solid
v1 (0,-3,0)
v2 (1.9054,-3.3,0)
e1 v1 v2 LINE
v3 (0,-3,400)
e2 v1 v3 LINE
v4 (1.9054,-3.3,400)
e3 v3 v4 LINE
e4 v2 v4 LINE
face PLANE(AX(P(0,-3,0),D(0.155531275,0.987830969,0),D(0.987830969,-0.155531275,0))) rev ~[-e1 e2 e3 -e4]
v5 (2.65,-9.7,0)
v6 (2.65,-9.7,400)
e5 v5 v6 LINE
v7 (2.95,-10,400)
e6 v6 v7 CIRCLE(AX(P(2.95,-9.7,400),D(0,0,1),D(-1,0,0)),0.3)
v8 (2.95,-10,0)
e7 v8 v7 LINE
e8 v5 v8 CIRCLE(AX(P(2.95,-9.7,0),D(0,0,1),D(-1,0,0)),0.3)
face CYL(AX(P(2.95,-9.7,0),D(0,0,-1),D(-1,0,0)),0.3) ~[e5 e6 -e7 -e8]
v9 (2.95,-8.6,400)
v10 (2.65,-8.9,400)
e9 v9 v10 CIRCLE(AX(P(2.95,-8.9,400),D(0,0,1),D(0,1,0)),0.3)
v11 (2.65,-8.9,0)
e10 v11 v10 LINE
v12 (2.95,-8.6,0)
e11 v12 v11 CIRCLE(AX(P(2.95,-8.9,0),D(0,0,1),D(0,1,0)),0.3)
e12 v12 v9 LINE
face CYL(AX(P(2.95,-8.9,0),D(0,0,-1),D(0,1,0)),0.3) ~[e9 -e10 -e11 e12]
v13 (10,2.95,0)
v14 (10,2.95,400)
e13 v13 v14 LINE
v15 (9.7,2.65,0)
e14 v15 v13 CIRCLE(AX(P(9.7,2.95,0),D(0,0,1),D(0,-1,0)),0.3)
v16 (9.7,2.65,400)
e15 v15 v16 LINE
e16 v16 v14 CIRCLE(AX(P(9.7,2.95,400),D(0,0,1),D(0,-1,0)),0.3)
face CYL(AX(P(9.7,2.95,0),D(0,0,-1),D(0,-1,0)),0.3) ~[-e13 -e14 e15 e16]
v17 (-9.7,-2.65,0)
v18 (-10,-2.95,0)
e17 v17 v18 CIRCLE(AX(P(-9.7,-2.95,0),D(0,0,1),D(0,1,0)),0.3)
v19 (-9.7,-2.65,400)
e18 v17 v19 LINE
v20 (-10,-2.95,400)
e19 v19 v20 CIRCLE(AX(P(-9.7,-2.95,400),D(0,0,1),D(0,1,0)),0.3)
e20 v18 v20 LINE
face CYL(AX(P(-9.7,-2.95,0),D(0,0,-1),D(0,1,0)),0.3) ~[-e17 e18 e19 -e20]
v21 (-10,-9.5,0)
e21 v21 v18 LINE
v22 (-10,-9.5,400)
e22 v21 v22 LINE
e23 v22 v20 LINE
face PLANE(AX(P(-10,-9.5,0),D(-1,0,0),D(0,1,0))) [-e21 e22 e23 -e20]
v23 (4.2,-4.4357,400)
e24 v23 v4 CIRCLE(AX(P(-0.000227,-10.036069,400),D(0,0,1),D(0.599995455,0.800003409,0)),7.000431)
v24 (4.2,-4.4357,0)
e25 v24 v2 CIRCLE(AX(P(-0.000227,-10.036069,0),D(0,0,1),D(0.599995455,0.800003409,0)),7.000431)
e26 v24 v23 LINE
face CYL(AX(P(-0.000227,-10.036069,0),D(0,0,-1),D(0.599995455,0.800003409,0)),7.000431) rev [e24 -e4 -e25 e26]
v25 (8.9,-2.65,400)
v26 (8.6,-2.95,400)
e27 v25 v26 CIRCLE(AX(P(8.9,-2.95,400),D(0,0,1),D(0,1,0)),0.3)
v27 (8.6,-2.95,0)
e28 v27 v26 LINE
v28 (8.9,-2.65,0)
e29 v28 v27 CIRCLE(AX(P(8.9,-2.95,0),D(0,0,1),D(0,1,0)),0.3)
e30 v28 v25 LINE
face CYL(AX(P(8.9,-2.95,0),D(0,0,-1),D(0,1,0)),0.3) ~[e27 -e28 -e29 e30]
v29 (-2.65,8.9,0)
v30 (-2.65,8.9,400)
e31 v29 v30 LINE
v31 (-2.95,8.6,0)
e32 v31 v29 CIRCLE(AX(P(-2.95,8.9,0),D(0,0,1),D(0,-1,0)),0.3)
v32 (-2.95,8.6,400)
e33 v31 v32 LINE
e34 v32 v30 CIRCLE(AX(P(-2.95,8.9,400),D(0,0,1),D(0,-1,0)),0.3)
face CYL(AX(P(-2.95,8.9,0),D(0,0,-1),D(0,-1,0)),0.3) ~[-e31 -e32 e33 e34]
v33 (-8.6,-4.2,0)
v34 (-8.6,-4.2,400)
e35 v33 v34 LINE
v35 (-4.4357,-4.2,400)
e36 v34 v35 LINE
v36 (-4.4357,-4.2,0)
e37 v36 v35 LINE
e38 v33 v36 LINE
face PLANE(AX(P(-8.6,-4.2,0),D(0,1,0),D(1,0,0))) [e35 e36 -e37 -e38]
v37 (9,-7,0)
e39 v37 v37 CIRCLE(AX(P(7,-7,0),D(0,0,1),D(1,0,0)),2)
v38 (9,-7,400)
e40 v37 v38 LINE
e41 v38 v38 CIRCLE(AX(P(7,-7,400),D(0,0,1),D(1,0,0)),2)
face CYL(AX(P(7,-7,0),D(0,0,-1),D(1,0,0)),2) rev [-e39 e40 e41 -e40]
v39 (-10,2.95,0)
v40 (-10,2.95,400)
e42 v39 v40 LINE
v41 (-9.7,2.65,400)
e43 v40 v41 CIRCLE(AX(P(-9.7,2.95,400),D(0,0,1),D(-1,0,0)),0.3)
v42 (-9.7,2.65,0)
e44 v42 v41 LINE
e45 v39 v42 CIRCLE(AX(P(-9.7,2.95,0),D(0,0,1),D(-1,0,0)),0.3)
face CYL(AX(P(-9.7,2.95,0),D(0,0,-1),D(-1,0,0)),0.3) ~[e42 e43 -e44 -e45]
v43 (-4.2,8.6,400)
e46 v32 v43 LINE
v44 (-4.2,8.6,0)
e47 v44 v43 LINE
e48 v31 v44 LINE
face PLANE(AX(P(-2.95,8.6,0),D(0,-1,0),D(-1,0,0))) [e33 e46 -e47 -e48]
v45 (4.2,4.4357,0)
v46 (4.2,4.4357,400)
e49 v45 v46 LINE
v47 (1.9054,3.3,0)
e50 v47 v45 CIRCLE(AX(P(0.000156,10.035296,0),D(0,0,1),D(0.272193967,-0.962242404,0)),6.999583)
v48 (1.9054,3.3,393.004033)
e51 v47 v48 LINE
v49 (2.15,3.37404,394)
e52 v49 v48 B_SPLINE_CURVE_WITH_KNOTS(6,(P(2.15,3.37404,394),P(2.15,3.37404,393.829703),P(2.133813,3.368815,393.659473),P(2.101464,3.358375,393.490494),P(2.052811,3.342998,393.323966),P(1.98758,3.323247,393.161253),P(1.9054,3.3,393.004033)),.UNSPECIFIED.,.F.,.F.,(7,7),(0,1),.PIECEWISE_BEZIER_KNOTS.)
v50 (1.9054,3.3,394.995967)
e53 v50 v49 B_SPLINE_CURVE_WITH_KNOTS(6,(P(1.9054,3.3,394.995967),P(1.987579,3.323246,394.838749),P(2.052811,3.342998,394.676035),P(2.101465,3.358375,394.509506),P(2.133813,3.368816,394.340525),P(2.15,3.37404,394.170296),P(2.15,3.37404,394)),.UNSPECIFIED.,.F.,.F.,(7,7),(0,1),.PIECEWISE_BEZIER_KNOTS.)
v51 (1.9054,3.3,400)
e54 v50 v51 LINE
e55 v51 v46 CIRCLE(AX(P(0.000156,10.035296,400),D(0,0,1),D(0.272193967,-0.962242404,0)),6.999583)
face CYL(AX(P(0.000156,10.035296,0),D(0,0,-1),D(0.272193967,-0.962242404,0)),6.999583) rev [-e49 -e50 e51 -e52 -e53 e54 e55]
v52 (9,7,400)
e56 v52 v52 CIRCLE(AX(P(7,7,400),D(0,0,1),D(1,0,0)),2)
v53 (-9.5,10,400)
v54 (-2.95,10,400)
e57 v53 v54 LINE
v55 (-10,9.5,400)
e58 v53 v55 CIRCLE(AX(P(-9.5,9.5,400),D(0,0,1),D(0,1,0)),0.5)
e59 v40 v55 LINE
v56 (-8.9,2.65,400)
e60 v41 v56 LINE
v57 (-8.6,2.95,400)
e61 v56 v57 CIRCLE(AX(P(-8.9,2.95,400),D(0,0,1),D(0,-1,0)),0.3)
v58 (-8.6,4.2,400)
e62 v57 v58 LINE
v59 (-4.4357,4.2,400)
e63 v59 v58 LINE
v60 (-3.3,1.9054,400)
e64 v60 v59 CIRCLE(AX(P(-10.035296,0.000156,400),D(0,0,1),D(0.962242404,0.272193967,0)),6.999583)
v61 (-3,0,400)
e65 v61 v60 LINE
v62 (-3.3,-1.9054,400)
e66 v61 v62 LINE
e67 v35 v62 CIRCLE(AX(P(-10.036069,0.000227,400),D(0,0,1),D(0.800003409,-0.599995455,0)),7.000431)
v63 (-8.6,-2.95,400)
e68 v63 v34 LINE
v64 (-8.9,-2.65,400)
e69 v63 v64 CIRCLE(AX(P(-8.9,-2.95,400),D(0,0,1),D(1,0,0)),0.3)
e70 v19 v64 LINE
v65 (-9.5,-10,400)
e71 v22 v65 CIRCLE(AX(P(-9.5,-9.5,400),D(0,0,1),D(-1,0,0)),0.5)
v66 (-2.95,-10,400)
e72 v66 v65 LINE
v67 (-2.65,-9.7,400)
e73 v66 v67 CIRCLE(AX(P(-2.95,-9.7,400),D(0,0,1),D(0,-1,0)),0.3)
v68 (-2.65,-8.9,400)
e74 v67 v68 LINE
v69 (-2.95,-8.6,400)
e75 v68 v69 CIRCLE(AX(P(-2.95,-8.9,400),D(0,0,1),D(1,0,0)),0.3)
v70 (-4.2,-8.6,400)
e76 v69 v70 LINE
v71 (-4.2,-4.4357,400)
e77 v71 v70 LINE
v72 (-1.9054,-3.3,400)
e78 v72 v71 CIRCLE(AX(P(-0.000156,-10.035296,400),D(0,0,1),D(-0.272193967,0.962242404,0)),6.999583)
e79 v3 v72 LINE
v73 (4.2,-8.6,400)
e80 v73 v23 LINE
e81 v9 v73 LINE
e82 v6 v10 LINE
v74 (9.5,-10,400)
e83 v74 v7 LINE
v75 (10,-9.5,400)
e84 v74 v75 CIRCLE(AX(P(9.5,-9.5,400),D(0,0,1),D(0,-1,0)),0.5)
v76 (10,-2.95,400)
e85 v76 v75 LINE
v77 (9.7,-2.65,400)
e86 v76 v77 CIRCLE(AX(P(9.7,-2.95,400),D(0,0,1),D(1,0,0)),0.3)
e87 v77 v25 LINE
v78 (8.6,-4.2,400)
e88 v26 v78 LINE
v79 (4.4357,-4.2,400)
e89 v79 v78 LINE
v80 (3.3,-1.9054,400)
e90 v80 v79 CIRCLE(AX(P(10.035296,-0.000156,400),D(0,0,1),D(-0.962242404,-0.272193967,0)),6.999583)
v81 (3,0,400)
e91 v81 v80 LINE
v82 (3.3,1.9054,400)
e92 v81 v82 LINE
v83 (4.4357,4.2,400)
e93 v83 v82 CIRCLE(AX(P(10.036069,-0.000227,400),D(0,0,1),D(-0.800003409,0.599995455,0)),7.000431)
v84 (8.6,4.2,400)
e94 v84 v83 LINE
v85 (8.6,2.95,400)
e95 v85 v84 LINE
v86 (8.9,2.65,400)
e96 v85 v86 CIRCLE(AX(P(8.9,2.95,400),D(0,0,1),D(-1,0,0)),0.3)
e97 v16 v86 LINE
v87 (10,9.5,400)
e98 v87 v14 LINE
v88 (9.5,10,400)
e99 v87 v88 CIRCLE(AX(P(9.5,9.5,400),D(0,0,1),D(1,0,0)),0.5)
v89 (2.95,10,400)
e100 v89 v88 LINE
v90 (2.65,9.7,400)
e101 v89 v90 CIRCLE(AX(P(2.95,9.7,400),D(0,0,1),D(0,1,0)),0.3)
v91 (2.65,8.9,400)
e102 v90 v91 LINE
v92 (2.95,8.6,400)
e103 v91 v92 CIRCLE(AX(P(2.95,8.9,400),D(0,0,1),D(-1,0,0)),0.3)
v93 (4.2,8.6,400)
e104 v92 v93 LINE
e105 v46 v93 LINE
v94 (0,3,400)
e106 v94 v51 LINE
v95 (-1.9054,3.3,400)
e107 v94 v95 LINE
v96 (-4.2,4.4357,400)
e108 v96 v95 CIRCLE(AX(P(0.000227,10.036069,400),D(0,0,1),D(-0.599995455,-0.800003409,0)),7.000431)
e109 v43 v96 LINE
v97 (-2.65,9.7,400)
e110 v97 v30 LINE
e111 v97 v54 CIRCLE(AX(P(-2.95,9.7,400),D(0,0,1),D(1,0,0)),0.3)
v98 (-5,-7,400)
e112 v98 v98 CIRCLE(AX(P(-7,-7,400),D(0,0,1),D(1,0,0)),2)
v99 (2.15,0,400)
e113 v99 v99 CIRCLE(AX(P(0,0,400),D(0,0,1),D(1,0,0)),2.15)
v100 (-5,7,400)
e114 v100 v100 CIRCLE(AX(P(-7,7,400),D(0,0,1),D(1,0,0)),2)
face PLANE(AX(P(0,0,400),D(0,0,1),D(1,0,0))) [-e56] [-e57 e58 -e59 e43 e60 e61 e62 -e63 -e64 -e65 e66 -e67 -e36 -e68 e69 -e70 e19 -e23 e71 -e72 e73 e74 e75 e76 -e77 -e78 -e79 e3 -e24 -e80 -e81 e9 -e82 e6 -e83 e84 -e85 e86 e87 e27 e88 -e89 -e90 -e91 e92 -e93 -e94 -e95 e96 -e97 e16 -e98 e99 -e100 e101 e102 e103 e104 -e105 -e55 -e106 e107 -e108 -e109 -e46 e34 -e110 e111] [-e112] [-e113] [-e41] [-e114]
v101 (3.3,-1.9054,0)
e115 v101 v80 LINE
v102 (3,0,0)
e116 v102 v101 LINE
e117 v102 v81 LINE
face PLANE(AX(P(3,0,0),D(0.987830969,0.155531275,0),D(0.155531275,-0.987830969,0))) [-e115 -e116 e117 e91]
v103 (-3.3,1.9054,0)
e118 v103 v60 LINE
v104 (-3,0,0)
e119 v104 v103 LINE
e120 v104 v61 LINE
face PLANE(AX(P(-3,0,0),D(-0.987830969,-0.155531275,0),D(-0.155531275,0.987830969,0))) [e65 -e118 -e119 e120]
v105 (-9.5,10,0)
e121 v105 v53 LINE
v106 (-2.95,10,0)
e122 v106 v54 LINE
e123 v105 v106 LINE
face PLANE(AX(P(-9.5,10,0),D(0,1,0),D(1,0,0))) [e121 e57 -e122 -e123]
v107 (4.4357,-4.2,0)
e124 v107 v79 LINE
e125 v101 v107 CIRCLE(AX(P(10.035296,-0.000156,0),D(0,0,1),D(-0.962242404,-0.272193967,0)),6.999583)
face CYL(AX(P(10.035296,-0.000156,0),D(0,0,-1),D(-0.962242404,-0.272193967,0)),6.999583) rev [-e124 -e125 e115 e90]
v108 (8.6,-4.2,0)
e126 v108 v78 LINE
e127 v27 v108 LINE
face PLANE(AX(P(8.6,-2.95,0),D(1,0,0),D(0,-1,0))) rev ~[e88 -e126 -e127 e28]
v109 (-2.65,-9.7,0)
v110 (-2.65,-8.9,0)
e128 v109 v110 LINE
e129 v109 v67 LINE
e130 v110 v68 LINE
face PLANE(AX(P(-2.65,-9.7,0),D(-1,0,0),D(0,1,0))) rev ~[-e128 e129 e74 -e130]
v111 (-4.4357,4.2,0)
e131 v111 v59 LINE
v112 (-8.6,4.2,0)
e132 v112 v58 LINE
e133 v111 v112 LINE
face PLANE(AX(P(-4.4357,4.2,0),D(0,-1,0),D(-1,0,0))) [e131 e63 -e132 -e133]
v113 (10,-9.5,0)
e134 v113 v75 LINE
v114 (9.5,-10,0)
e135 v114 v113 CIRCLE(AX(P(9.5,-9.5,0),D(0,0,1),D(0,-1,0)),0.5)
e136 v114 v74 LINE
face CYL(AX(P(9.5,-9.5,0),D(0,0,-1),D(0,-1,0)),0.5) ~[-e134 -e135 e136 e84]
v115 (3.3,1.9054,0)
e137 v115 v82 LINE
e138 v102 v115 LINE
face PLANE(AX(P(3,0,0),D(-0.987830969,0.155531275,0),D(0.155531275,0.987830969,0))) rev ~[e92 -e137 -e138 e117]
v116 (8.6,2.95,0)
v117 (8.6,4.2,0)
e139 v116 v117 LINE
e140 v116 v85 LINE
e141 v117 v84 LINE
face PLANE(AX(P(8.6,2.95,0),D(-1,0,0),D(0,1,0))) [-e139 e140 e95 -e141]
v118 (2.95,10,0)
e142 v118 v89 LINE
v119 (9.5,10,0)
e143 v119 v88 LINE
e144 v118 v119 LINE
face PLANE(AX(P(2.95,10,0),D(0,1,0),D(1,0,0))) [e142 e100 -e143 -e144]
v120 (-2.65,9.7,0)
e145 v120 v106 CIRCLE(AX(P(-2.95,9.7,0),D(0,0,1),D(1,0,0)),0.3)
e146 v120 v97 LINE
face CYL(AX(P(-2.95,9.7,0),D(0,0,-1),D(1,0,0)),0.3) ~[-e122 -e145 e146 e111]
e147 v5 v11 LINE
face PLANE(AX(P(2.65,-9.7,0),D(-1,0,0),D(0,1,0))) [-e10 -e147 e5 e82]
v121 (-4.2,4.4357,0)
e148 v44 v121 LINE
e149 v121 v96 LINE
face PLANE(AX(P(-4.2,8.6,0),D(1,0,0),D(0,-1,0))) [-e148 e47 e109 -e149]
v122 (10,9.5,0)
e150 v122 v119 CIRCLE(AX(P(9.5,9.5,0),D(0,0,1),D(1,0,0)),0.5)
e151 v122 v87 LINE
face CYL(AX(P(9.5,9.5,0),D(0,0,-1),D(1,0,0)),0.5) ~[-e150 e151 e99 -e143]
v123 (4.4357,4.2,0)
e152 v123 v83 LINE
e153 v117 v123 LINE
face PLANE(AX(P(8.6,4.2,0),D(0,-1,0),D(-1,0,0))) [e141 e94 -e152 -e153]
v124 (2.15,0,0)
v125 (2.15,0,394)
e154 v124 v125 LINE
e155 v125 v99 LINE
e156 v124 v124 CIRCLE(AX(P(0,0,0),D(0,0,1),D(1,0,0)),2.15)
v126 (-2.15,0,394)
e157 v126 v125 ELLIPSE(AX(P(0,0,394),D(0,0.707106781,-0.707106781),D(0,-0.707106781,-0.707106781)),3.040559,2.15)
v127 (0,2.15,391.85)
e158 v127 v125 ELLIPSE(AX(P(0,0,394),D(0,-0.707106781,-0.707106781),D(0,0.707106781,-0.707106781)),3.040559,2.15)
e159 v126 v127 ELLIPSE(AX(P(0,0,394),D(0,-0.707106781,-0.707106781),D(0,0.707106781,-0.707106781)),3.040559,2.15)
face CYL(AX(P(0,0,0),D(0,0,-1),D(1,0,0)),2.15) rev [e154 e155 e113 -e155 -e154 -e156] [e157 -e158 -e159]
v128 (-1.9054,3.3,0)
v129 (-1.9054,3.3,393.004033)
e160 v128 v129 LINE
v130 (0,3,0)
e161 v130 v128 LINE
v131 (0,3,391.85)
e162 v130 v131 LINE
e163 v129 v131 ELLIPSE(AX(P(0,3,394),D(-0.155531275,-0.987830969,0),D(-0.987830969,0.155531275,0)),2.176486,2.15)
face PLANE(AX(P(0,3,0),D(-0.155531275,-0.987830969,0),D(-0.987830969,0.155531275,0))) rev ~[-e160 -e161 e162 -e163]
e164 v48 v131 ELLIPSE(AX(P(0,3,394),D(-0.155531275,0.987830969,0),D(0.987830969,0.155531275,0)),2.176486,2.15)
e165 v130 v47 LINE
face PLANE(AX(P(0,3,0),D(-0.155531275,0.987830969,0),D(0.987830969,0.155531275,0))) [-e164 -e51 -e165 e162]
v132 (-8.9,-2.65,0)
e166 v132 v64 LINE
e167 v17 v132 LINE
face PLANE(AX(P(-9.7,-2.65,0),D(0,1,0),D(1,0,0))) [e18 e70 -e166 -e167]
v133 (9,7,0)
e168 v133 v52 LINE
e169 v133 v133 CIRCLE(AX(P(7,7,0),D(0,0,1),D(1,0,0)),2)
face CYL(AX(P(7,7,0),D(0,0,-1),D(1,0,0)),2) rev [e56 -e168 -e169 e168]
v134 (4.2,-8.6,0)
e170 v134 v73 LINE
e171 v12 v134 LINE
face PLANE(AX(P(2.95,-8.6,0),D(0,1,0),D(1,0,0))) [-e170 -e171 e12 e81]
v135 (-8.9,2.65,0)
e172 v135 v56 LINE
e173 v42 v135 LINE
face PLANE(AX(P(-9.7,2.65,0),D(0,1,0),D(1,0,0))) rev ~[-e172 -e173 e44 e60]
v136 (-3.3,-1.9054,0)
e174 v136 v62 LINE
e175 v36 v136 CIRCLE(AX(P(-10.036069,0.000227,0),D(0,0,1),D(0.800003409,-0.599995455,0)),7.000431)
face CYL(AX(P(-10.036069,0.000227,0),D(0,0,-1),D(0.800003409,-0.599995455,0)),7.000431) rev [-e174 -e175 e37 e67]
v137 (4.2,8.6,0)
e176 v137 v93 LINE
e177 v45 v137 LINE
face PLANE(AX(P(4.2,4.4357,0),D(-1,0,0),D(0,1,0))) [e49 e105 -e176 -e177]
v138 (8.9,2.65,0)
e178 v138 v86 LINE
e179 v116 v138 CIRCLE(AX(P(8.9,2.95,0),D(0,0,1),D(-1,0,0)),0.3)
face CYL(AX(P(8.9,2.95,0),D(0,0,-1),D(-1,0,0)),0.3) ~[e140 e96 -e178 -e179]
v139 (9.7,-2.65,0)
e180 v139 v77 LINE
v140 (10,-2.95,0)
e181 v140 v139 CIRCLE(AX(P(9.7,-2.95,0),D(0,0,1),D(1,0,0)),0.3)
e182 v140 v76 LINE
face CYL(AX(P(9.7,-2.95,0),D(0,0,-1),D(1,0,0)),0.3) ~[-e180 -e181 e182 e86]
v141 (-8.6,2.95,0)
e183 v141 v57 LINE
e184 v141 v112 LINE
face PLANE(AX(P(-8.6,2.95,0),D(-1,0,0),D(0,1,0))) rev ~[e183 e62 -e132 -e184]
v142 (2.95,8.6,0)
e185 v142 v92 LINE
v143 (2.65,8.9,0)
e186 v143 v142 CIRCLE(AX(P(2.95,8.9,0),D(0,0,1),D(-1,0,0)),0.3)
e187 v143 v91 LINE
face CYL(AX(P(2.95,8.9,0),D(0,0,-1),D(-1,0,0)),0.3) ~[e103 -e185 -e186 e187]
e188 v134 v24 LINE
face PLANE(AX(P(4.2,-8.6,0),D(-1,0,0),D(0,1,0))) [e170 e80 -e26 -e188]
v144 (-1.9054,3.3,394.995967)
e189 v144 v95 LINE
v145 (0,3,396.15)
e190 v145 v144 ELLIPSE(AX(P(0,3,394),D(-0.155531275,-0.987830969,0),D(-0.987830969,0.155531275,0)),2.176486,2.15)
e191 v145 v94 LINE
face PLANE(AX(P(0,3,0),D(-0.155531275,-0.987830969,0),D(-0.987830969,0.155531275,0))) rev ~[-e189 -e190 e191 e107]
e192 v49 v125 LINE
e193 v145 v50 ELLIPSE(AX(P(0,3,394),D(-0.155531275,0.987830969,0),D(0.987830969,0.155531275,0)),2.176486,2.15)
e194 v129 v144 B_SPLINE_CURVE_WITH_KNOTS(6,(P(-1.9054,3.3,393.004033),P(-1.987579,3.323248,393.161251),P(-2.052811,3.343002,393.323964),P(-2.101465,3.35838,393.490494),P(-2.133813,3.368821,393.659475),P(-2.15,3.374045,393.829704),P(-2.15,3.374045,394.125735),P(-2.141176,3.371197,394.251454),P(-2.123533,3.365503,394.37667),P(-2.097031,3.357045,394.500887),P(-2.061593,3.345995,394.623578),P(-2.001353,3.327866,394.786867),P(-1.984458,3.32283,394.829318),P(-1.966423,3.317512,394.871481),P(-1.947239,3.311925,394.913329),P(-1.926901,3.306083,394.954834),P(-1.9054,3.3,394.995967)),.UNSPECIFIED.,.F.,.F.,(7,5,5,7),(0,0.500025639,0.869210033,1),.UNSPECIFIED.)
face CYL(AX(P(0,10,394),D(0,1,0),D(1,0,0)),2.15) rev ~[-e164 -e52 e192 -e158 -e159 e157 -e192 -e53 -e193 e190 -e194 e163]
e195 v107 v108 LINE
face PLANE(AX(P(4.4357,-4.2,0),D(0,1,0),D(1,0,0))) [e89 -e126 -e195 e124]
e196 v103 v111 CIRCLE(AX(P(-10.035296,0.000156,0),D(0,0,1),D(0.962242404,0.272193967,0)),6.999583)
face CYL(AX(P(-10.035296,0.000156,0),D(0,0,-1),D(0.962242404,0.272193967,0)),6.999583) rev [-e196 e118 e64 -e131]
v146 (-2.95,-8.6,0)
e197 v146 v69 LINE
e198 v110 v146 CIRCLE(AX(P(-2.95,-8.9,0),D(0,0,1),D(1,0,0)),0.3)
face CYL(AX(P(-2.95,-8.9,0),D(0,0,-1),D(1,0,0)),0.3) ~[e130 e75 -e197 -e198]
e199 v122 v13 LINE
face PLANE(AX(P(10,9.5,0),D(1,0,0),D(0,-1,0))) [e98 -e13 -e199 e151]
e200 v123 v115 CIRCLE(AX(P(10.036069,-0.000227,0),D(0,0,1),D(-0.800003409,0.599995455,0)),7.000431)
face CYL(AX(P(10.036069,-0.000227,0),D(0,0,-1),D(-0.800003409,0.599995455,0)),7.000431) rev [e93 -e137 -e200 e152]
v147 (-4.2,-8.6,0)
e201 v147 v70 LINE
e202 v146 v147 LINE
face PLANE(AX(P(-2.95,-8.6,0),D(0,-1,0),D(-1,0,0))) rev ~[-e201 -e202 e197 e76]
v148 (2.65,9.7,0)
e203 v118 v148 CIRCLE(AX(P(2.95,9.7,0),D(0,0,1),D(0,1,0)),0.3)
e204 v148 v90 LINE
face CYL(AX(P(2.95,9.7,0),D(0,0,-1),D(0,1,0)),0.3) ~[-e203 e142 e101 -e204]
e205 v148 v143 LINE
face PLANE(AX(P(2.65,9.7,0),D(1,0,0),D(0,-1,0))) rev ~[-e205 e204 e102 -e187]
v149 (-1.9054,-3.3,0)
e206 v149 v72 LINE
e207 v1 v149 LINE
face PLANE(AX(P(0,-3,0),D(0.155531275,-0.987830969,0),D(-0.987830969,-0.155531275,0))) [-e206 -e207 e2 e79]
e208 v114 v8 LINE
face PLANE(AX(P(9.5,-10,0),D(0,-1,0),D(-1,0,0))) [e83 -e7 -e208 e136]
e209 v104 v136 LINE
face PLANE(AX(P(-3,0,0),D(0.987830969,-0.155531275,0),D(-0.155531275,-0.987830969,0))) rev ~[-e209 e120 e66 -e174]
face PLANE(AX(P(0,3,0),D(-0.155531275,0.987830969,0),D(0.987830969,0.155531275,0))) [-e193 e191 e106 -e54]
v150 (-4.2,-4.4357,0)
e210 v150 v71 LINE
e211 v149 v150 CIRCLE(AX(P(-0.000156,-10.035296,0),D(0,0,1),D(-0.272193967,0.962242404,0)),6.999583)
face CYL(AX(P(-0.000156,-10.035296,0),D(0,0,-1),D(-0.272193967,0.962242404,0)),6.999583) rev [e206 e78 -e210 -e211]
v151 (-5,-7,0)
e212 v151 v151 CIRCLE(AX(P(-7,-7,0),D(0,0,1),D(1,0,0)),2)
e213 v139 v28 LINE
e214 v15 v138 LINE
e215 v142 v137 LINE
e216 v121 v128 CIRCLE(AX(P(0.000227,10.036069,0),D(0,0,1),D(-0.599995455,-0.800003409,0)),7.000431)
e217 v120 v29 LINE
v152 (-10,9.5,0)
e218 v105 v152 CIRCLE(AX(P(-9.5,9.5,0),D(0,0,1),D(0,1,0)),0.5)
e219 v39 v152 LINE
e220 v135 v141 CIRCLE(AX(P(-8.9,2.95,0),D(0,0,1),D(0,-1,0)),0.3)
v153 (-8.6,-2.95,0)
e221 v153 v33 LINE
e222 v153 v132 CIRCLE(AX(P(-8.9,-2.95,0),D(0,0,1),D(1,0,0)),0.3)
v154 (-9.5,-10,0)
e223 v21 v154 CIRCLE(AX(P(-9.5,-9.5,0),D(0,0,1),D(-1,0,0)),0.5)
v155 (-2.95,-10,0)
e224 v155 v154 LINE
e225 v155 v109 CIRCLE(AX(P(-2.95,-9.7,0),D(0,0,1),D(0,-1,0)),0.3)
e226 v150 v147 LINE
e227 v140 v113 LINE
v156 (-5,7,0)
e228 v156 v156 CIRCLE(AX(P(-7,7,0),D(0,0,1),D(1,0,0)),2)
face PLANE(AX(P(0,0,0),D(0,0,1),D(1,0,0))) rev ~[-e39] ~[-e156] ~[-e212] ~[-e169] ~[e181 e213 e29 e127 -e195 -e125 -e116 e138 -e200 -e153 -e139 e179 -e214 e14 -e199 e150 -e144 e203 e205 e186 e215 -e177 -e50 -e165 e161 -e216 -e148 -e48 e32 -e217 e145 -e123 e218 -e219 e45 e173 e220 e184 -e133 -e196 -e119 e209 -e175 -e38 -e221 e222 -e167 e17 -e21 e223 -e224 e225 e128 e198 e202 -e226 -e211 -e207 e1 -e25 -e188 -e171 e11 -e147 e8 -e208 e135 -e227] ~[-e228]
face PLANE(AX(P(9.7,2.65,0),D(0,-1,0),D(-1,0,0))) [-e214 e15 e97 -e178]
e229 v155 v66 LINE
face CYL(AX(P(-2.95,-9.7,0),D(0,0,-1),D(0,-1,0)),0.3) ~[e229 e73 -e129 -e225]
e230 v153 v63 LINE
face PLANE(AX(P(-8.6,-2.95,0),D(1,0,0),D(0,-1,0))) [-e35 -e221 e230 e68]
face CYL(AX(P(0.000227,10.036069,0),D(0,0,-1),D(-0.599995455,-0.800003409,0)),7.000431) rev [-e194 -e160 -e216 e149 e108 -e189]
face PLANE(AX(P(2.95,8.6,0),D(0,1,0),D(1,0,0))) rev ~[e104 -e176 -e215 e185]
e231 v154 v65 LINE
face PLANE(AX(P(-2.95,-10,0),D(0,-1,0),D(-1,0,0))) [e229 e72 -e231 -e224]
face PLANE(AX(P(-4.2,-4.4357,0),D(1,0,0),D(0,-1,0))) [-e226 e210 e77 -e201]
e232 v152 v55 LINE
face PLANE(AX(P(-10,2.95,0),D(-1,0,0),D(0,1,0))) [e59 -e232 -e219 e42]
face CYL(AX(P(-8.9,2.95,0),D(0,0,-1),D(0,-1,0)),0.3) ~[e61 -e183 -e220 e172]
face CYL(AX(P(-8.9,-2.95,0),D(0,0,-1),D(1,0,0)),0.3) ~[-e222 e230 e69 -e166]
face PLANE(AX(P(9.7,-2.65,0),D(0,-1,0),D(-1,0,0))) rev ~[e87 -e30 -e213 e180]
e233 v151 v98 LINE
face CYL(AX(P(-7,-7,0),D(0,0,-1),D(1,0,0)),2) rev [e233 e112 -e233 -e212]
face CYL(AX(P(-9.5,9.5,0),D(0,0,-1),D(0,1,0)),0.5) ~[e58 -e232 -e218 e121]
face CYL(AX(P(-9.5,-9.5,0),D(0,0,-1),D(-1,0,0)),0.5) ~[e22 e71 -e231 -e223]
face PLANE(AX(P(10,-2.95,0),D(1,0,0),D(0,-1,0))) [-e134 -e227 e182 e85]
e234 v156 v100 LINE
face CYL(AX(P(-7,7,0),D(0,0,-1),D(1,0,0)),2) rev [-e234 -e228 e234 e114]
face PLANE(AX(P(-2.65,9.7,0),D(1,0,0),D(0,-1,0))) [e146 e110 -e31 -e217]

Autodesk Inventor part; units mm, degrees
ref_plane "YZ Plane" through (0, 0, 0) normal (1, 0, 0) x (0, 1, 0)
ref_plane "XZ Plane" through (0, 0, 0) normal (0, 1, 0) x (-1, 0, 0)
ref_plane "XY Plane" through (0, 0, 0) normal (0, 0, 1) x (1, 0, 0)
sketch "Sketch1" plane through (0, 0, 0) normal (0, 0, 1) x (1, 0, 0)
  line L0 (0, 0) -> (12.2143, 12.2143) construction
  line L1 (0, 0) -> (10, 0) construction
  circle A0 centre (0, 0) radius 2.15
  circle A1 centre (7, 7) radius 2
  circle A2 centre (-7, 7) radius 2
  circle A3 centre (-7, -7) radius 2
  circle A4 centre (7, -7) radius 2
  line L2 (2.95, 10) -> (9.5, 10)
  line L3 (10, 9.5) -> (10, 2.95)
  line L4 (9.7, 2.65) -> (8.9, 2.65)
  line L5 (8.6, 2.95) -> (8.6, 4.2)
  line L6 (4.2, 4.4357) -> (4.2, 8.6)
  line L7 (2.65, 9.7) -> (2.65, 8.9)
  line L8 (2.95, 8.6) -> (4.2, 8.6)
  line L9 (0, 14.2934) -> (0, -14.2934) construction
  arc A5 (2.95, 10) -> (2.65, 9.7) centre (2.95, 9.7) ccw
  arc A6 (2.65, 8.9) -> (2.95, 8.6) centre (2.95, 8.9) ccw
  arc A7 (8.6, 2.95) -> (8.9, 2.65) centre (8.9, 2.95) ccw
  arc A8 (9.7, 2.65) -> (10, 2.95) centre (9.7, 2.95) ccw
  arc A9 (10, 9.5) -> (9.5, 10) centre (9.5, 9.5) ccw
  circle A10 centre (0, 7.1516) radius 5.0016 construction
  circle A11 centre (7.1516, 0) radius 5.0016 construction
  line L10 (8.6, 4.2) -> (4.4357, 4.2)
  line L11 (0, 3) -> (1.9054, 3.3)
  arc A12 (1.9054, 3.3) -> (4.2, 4.4357) centre (0, 10.0357) ccw
  line L12 (3, 0) -> (3.3, 1.9054)
  arc A13 (4.4357, 4.2) -> (3.3, 1.9054) centre (10.0357, 0) ccw
  line L13 (-3, 0) -> (-3.3, 1.9054)
  arc A14 (-3.3, 1.9054) -> (-4.4357, 4.2) centre (-10.0357, 0) ccw
  arc A15 (-4.2, 4.4357) -> (-1.9054, 3.3) centre (0, 10.0357) ccw
  line L14 (0, 3) -> (-1.9054, 3.3)
  line L15 (-4.4357, 4.2) -> (-8.6, 4.2)
  line L16 (-8.6, 2.95) -> (-8.6, 4.2)
  arc A16 (-8.9, 2.65) -> (-8.6, 2.95) centre (-8.9, 2.95) ccw
  line L17 (-9.7, 2.65) -> (-8.9, 2.65)
  arc A17 (-10, 2.95) -> (-9.7, 2.65) centre (-9.7, 2.95) ccw
  line L18 (-10, 2.95) -> (-10, 9.5)
  arc A18 (-9.5, 10) -> (-10, 9.5) centre (-9.5, 9.5) ccw
  line L19 (-9.5, 10) -> (-2.95, 10)
  line L20 (-4.2, 8.6) -> (-4.2, 4.4357)
  line L21 (-2.95, 8.6) -> (-4.2, 8.6)
  arc A19 (-2.95, 8.6) -> (-2.65, 8.9) centre (-2.95, 8.9) ccw
  line L22 (-2.65, 9.7) -> (-2.65, 8.9)
  arc A20 (-2.65, 9.7) -> (-2.95, 10) centre (-2.95, 9.7) ccw
  line L23 (0, -3) -> (-1.9054, -3.3)
  arc A21 (-1.9054, -3.3) -> (-4.2, -4.4357) centre (0, -10.0357) ccw
  arc A22 (-4.4357, -4.2) -> (-3.3, -1.9054) centre (-10.0357, 0) ccw
  line L24 (-3, 0) -> (-3.3, -1.9054)
  line L25 (-4.2, -4.4357) -> (-4.2, -8.6)
  line L26 (-2.95, -8.6) -> (-4.2, -8.6)
  arc A23 (-2.65, -8.9) -> (-2.95, -8.6) centre (-2.95, -8.9) ccw
  line L27 (-2.65, -9.7) -> (-2.65, -8.9)
  arc A24 (-2.95, -10) -> (-2.65, -9.7) centre (-2.95, -9.7) ccw
  line L28 (-2.95, -10) -> (-9.5, -10)
  arc A25 (-10, -9.5) -> (-9.5, -10) centre (-9.5, -9.5) ccw
  line L29 (-10, -9.5) -> (-10, -2.95)
  line L30 (-8.6, -4.2) -> (-4.4357, -4.2)
  line L31 (-8.6, -2.95) -> (-8.6, -4.2)
  arc A26 (-8.6, -2.95) -> (-8.9, -2.65) centre (-8.9, -2.95) ccw
  line L32 (-9.7, -2.65) -> (-8.9, -2.65)
  arc A27 (-9.7, -2.65) -> (-10, -2.95) centre (-9.7, -2.95) ccw
  line L33 (3, 0) -> (3.3, -1.9054)
  arc A28 (3.3, -1.9054) -> (4.4357, -4.2) centre (10.0357, 0) ccw
  arc A29 (4.2, -4.4357) -> (1.9054, -3.3) centre (0, -10.0357) ccw
  line L34 (0, -3) -> (1.9054, -3.3)
  line L35 (4.4357, -4.2) -> (8.6, -4.2)
  line L36 (8.6, -2.95) -> (8.6, -4.2)
  arc A30 (8.9, -2.65) -> (8.6, -2.95) centre (8.9, -2.95) ccw
  line L37 (9.7, -2.65) -> (8.9, -2.65)
  arc A31 (10, -2.95) -> (9.7, -2.65) centre (9.7, -2.95) ccw
  line L38 (10, -2.95) -> (10, -9.5)
  arc A32 (9.5, -10) -> (10, -9.5) centre (9.5, -9.5) ccw
  line L39 (9.5, -10) -> (2.95, -10)
  line L40 (4.2, -8.6) -> (4.2, -4.4357)
  line L41 (2.95, -8.6) -> (4.2, -8.6)
  arc A33 (2.95, -8.6) -> (2.65, -8.9) centre (2.95, -8.9) ccw
  line L42 (2.65, -9.7) -> (2.65, -8.9)
  arc A34 (2.65, -9.7) -> (2.95, -10) centre (2.95, -9.7) ccw
  point P0 (10, 2.65)
  point P1 (8.6, 2.65)
  point P2 (-2.65, 10)
  point P3 (-2.65, 8.6)
  point P4 (-10, -2.65)
  point P5 (-8.6, -2.65)
  point P6 (2.65, -10)
  point P7 (2.65, -8.6)
  dimension "d1" = 45
  dimension "d2" = 4.3
  dimension "d3" = 4
  dimension "d6" = 360
  dimension "d9" = 2.65
  dimension "d10" = 4.2
  dimension "d11" = 1.4
  dimension "d12" = 7
  dimension "d13" = 10
  dimension "d14" = 10
  dimension "d15" = 1.4
  dimension "d16" = 2.65
  dimension "d18" = 0.3
  dimension "d19" = 0.5
  dimension "d22" = 4.2
  dimension "d24" = 6.7
  dimension "d25" = 0.3
  dimension "d26" = 7
  dimension "d27" = 6.7
  dimension "d28" = 0.3
  dimension "d29" = 7
  dimension "d32" = 360
extrude "Extrusion1" add sketch "Sketch1" along normal blind 400
sketch "Sketch2" plane through (2.95, 10, 400) normal (0, 1, 0) x (1, 0, 0)
  line L0 (-2.95, 400) -> (-2.95, 0) projected
  circle A0 centre (-2.95, 6) radius 2.15
  dimension "d36" = 4.3
  dimension "d37" = 6
extrude "Extrusion2" cut sketch "Sketch2" against normal blind 10
properties part number "Aluminum_Profile_2020"
